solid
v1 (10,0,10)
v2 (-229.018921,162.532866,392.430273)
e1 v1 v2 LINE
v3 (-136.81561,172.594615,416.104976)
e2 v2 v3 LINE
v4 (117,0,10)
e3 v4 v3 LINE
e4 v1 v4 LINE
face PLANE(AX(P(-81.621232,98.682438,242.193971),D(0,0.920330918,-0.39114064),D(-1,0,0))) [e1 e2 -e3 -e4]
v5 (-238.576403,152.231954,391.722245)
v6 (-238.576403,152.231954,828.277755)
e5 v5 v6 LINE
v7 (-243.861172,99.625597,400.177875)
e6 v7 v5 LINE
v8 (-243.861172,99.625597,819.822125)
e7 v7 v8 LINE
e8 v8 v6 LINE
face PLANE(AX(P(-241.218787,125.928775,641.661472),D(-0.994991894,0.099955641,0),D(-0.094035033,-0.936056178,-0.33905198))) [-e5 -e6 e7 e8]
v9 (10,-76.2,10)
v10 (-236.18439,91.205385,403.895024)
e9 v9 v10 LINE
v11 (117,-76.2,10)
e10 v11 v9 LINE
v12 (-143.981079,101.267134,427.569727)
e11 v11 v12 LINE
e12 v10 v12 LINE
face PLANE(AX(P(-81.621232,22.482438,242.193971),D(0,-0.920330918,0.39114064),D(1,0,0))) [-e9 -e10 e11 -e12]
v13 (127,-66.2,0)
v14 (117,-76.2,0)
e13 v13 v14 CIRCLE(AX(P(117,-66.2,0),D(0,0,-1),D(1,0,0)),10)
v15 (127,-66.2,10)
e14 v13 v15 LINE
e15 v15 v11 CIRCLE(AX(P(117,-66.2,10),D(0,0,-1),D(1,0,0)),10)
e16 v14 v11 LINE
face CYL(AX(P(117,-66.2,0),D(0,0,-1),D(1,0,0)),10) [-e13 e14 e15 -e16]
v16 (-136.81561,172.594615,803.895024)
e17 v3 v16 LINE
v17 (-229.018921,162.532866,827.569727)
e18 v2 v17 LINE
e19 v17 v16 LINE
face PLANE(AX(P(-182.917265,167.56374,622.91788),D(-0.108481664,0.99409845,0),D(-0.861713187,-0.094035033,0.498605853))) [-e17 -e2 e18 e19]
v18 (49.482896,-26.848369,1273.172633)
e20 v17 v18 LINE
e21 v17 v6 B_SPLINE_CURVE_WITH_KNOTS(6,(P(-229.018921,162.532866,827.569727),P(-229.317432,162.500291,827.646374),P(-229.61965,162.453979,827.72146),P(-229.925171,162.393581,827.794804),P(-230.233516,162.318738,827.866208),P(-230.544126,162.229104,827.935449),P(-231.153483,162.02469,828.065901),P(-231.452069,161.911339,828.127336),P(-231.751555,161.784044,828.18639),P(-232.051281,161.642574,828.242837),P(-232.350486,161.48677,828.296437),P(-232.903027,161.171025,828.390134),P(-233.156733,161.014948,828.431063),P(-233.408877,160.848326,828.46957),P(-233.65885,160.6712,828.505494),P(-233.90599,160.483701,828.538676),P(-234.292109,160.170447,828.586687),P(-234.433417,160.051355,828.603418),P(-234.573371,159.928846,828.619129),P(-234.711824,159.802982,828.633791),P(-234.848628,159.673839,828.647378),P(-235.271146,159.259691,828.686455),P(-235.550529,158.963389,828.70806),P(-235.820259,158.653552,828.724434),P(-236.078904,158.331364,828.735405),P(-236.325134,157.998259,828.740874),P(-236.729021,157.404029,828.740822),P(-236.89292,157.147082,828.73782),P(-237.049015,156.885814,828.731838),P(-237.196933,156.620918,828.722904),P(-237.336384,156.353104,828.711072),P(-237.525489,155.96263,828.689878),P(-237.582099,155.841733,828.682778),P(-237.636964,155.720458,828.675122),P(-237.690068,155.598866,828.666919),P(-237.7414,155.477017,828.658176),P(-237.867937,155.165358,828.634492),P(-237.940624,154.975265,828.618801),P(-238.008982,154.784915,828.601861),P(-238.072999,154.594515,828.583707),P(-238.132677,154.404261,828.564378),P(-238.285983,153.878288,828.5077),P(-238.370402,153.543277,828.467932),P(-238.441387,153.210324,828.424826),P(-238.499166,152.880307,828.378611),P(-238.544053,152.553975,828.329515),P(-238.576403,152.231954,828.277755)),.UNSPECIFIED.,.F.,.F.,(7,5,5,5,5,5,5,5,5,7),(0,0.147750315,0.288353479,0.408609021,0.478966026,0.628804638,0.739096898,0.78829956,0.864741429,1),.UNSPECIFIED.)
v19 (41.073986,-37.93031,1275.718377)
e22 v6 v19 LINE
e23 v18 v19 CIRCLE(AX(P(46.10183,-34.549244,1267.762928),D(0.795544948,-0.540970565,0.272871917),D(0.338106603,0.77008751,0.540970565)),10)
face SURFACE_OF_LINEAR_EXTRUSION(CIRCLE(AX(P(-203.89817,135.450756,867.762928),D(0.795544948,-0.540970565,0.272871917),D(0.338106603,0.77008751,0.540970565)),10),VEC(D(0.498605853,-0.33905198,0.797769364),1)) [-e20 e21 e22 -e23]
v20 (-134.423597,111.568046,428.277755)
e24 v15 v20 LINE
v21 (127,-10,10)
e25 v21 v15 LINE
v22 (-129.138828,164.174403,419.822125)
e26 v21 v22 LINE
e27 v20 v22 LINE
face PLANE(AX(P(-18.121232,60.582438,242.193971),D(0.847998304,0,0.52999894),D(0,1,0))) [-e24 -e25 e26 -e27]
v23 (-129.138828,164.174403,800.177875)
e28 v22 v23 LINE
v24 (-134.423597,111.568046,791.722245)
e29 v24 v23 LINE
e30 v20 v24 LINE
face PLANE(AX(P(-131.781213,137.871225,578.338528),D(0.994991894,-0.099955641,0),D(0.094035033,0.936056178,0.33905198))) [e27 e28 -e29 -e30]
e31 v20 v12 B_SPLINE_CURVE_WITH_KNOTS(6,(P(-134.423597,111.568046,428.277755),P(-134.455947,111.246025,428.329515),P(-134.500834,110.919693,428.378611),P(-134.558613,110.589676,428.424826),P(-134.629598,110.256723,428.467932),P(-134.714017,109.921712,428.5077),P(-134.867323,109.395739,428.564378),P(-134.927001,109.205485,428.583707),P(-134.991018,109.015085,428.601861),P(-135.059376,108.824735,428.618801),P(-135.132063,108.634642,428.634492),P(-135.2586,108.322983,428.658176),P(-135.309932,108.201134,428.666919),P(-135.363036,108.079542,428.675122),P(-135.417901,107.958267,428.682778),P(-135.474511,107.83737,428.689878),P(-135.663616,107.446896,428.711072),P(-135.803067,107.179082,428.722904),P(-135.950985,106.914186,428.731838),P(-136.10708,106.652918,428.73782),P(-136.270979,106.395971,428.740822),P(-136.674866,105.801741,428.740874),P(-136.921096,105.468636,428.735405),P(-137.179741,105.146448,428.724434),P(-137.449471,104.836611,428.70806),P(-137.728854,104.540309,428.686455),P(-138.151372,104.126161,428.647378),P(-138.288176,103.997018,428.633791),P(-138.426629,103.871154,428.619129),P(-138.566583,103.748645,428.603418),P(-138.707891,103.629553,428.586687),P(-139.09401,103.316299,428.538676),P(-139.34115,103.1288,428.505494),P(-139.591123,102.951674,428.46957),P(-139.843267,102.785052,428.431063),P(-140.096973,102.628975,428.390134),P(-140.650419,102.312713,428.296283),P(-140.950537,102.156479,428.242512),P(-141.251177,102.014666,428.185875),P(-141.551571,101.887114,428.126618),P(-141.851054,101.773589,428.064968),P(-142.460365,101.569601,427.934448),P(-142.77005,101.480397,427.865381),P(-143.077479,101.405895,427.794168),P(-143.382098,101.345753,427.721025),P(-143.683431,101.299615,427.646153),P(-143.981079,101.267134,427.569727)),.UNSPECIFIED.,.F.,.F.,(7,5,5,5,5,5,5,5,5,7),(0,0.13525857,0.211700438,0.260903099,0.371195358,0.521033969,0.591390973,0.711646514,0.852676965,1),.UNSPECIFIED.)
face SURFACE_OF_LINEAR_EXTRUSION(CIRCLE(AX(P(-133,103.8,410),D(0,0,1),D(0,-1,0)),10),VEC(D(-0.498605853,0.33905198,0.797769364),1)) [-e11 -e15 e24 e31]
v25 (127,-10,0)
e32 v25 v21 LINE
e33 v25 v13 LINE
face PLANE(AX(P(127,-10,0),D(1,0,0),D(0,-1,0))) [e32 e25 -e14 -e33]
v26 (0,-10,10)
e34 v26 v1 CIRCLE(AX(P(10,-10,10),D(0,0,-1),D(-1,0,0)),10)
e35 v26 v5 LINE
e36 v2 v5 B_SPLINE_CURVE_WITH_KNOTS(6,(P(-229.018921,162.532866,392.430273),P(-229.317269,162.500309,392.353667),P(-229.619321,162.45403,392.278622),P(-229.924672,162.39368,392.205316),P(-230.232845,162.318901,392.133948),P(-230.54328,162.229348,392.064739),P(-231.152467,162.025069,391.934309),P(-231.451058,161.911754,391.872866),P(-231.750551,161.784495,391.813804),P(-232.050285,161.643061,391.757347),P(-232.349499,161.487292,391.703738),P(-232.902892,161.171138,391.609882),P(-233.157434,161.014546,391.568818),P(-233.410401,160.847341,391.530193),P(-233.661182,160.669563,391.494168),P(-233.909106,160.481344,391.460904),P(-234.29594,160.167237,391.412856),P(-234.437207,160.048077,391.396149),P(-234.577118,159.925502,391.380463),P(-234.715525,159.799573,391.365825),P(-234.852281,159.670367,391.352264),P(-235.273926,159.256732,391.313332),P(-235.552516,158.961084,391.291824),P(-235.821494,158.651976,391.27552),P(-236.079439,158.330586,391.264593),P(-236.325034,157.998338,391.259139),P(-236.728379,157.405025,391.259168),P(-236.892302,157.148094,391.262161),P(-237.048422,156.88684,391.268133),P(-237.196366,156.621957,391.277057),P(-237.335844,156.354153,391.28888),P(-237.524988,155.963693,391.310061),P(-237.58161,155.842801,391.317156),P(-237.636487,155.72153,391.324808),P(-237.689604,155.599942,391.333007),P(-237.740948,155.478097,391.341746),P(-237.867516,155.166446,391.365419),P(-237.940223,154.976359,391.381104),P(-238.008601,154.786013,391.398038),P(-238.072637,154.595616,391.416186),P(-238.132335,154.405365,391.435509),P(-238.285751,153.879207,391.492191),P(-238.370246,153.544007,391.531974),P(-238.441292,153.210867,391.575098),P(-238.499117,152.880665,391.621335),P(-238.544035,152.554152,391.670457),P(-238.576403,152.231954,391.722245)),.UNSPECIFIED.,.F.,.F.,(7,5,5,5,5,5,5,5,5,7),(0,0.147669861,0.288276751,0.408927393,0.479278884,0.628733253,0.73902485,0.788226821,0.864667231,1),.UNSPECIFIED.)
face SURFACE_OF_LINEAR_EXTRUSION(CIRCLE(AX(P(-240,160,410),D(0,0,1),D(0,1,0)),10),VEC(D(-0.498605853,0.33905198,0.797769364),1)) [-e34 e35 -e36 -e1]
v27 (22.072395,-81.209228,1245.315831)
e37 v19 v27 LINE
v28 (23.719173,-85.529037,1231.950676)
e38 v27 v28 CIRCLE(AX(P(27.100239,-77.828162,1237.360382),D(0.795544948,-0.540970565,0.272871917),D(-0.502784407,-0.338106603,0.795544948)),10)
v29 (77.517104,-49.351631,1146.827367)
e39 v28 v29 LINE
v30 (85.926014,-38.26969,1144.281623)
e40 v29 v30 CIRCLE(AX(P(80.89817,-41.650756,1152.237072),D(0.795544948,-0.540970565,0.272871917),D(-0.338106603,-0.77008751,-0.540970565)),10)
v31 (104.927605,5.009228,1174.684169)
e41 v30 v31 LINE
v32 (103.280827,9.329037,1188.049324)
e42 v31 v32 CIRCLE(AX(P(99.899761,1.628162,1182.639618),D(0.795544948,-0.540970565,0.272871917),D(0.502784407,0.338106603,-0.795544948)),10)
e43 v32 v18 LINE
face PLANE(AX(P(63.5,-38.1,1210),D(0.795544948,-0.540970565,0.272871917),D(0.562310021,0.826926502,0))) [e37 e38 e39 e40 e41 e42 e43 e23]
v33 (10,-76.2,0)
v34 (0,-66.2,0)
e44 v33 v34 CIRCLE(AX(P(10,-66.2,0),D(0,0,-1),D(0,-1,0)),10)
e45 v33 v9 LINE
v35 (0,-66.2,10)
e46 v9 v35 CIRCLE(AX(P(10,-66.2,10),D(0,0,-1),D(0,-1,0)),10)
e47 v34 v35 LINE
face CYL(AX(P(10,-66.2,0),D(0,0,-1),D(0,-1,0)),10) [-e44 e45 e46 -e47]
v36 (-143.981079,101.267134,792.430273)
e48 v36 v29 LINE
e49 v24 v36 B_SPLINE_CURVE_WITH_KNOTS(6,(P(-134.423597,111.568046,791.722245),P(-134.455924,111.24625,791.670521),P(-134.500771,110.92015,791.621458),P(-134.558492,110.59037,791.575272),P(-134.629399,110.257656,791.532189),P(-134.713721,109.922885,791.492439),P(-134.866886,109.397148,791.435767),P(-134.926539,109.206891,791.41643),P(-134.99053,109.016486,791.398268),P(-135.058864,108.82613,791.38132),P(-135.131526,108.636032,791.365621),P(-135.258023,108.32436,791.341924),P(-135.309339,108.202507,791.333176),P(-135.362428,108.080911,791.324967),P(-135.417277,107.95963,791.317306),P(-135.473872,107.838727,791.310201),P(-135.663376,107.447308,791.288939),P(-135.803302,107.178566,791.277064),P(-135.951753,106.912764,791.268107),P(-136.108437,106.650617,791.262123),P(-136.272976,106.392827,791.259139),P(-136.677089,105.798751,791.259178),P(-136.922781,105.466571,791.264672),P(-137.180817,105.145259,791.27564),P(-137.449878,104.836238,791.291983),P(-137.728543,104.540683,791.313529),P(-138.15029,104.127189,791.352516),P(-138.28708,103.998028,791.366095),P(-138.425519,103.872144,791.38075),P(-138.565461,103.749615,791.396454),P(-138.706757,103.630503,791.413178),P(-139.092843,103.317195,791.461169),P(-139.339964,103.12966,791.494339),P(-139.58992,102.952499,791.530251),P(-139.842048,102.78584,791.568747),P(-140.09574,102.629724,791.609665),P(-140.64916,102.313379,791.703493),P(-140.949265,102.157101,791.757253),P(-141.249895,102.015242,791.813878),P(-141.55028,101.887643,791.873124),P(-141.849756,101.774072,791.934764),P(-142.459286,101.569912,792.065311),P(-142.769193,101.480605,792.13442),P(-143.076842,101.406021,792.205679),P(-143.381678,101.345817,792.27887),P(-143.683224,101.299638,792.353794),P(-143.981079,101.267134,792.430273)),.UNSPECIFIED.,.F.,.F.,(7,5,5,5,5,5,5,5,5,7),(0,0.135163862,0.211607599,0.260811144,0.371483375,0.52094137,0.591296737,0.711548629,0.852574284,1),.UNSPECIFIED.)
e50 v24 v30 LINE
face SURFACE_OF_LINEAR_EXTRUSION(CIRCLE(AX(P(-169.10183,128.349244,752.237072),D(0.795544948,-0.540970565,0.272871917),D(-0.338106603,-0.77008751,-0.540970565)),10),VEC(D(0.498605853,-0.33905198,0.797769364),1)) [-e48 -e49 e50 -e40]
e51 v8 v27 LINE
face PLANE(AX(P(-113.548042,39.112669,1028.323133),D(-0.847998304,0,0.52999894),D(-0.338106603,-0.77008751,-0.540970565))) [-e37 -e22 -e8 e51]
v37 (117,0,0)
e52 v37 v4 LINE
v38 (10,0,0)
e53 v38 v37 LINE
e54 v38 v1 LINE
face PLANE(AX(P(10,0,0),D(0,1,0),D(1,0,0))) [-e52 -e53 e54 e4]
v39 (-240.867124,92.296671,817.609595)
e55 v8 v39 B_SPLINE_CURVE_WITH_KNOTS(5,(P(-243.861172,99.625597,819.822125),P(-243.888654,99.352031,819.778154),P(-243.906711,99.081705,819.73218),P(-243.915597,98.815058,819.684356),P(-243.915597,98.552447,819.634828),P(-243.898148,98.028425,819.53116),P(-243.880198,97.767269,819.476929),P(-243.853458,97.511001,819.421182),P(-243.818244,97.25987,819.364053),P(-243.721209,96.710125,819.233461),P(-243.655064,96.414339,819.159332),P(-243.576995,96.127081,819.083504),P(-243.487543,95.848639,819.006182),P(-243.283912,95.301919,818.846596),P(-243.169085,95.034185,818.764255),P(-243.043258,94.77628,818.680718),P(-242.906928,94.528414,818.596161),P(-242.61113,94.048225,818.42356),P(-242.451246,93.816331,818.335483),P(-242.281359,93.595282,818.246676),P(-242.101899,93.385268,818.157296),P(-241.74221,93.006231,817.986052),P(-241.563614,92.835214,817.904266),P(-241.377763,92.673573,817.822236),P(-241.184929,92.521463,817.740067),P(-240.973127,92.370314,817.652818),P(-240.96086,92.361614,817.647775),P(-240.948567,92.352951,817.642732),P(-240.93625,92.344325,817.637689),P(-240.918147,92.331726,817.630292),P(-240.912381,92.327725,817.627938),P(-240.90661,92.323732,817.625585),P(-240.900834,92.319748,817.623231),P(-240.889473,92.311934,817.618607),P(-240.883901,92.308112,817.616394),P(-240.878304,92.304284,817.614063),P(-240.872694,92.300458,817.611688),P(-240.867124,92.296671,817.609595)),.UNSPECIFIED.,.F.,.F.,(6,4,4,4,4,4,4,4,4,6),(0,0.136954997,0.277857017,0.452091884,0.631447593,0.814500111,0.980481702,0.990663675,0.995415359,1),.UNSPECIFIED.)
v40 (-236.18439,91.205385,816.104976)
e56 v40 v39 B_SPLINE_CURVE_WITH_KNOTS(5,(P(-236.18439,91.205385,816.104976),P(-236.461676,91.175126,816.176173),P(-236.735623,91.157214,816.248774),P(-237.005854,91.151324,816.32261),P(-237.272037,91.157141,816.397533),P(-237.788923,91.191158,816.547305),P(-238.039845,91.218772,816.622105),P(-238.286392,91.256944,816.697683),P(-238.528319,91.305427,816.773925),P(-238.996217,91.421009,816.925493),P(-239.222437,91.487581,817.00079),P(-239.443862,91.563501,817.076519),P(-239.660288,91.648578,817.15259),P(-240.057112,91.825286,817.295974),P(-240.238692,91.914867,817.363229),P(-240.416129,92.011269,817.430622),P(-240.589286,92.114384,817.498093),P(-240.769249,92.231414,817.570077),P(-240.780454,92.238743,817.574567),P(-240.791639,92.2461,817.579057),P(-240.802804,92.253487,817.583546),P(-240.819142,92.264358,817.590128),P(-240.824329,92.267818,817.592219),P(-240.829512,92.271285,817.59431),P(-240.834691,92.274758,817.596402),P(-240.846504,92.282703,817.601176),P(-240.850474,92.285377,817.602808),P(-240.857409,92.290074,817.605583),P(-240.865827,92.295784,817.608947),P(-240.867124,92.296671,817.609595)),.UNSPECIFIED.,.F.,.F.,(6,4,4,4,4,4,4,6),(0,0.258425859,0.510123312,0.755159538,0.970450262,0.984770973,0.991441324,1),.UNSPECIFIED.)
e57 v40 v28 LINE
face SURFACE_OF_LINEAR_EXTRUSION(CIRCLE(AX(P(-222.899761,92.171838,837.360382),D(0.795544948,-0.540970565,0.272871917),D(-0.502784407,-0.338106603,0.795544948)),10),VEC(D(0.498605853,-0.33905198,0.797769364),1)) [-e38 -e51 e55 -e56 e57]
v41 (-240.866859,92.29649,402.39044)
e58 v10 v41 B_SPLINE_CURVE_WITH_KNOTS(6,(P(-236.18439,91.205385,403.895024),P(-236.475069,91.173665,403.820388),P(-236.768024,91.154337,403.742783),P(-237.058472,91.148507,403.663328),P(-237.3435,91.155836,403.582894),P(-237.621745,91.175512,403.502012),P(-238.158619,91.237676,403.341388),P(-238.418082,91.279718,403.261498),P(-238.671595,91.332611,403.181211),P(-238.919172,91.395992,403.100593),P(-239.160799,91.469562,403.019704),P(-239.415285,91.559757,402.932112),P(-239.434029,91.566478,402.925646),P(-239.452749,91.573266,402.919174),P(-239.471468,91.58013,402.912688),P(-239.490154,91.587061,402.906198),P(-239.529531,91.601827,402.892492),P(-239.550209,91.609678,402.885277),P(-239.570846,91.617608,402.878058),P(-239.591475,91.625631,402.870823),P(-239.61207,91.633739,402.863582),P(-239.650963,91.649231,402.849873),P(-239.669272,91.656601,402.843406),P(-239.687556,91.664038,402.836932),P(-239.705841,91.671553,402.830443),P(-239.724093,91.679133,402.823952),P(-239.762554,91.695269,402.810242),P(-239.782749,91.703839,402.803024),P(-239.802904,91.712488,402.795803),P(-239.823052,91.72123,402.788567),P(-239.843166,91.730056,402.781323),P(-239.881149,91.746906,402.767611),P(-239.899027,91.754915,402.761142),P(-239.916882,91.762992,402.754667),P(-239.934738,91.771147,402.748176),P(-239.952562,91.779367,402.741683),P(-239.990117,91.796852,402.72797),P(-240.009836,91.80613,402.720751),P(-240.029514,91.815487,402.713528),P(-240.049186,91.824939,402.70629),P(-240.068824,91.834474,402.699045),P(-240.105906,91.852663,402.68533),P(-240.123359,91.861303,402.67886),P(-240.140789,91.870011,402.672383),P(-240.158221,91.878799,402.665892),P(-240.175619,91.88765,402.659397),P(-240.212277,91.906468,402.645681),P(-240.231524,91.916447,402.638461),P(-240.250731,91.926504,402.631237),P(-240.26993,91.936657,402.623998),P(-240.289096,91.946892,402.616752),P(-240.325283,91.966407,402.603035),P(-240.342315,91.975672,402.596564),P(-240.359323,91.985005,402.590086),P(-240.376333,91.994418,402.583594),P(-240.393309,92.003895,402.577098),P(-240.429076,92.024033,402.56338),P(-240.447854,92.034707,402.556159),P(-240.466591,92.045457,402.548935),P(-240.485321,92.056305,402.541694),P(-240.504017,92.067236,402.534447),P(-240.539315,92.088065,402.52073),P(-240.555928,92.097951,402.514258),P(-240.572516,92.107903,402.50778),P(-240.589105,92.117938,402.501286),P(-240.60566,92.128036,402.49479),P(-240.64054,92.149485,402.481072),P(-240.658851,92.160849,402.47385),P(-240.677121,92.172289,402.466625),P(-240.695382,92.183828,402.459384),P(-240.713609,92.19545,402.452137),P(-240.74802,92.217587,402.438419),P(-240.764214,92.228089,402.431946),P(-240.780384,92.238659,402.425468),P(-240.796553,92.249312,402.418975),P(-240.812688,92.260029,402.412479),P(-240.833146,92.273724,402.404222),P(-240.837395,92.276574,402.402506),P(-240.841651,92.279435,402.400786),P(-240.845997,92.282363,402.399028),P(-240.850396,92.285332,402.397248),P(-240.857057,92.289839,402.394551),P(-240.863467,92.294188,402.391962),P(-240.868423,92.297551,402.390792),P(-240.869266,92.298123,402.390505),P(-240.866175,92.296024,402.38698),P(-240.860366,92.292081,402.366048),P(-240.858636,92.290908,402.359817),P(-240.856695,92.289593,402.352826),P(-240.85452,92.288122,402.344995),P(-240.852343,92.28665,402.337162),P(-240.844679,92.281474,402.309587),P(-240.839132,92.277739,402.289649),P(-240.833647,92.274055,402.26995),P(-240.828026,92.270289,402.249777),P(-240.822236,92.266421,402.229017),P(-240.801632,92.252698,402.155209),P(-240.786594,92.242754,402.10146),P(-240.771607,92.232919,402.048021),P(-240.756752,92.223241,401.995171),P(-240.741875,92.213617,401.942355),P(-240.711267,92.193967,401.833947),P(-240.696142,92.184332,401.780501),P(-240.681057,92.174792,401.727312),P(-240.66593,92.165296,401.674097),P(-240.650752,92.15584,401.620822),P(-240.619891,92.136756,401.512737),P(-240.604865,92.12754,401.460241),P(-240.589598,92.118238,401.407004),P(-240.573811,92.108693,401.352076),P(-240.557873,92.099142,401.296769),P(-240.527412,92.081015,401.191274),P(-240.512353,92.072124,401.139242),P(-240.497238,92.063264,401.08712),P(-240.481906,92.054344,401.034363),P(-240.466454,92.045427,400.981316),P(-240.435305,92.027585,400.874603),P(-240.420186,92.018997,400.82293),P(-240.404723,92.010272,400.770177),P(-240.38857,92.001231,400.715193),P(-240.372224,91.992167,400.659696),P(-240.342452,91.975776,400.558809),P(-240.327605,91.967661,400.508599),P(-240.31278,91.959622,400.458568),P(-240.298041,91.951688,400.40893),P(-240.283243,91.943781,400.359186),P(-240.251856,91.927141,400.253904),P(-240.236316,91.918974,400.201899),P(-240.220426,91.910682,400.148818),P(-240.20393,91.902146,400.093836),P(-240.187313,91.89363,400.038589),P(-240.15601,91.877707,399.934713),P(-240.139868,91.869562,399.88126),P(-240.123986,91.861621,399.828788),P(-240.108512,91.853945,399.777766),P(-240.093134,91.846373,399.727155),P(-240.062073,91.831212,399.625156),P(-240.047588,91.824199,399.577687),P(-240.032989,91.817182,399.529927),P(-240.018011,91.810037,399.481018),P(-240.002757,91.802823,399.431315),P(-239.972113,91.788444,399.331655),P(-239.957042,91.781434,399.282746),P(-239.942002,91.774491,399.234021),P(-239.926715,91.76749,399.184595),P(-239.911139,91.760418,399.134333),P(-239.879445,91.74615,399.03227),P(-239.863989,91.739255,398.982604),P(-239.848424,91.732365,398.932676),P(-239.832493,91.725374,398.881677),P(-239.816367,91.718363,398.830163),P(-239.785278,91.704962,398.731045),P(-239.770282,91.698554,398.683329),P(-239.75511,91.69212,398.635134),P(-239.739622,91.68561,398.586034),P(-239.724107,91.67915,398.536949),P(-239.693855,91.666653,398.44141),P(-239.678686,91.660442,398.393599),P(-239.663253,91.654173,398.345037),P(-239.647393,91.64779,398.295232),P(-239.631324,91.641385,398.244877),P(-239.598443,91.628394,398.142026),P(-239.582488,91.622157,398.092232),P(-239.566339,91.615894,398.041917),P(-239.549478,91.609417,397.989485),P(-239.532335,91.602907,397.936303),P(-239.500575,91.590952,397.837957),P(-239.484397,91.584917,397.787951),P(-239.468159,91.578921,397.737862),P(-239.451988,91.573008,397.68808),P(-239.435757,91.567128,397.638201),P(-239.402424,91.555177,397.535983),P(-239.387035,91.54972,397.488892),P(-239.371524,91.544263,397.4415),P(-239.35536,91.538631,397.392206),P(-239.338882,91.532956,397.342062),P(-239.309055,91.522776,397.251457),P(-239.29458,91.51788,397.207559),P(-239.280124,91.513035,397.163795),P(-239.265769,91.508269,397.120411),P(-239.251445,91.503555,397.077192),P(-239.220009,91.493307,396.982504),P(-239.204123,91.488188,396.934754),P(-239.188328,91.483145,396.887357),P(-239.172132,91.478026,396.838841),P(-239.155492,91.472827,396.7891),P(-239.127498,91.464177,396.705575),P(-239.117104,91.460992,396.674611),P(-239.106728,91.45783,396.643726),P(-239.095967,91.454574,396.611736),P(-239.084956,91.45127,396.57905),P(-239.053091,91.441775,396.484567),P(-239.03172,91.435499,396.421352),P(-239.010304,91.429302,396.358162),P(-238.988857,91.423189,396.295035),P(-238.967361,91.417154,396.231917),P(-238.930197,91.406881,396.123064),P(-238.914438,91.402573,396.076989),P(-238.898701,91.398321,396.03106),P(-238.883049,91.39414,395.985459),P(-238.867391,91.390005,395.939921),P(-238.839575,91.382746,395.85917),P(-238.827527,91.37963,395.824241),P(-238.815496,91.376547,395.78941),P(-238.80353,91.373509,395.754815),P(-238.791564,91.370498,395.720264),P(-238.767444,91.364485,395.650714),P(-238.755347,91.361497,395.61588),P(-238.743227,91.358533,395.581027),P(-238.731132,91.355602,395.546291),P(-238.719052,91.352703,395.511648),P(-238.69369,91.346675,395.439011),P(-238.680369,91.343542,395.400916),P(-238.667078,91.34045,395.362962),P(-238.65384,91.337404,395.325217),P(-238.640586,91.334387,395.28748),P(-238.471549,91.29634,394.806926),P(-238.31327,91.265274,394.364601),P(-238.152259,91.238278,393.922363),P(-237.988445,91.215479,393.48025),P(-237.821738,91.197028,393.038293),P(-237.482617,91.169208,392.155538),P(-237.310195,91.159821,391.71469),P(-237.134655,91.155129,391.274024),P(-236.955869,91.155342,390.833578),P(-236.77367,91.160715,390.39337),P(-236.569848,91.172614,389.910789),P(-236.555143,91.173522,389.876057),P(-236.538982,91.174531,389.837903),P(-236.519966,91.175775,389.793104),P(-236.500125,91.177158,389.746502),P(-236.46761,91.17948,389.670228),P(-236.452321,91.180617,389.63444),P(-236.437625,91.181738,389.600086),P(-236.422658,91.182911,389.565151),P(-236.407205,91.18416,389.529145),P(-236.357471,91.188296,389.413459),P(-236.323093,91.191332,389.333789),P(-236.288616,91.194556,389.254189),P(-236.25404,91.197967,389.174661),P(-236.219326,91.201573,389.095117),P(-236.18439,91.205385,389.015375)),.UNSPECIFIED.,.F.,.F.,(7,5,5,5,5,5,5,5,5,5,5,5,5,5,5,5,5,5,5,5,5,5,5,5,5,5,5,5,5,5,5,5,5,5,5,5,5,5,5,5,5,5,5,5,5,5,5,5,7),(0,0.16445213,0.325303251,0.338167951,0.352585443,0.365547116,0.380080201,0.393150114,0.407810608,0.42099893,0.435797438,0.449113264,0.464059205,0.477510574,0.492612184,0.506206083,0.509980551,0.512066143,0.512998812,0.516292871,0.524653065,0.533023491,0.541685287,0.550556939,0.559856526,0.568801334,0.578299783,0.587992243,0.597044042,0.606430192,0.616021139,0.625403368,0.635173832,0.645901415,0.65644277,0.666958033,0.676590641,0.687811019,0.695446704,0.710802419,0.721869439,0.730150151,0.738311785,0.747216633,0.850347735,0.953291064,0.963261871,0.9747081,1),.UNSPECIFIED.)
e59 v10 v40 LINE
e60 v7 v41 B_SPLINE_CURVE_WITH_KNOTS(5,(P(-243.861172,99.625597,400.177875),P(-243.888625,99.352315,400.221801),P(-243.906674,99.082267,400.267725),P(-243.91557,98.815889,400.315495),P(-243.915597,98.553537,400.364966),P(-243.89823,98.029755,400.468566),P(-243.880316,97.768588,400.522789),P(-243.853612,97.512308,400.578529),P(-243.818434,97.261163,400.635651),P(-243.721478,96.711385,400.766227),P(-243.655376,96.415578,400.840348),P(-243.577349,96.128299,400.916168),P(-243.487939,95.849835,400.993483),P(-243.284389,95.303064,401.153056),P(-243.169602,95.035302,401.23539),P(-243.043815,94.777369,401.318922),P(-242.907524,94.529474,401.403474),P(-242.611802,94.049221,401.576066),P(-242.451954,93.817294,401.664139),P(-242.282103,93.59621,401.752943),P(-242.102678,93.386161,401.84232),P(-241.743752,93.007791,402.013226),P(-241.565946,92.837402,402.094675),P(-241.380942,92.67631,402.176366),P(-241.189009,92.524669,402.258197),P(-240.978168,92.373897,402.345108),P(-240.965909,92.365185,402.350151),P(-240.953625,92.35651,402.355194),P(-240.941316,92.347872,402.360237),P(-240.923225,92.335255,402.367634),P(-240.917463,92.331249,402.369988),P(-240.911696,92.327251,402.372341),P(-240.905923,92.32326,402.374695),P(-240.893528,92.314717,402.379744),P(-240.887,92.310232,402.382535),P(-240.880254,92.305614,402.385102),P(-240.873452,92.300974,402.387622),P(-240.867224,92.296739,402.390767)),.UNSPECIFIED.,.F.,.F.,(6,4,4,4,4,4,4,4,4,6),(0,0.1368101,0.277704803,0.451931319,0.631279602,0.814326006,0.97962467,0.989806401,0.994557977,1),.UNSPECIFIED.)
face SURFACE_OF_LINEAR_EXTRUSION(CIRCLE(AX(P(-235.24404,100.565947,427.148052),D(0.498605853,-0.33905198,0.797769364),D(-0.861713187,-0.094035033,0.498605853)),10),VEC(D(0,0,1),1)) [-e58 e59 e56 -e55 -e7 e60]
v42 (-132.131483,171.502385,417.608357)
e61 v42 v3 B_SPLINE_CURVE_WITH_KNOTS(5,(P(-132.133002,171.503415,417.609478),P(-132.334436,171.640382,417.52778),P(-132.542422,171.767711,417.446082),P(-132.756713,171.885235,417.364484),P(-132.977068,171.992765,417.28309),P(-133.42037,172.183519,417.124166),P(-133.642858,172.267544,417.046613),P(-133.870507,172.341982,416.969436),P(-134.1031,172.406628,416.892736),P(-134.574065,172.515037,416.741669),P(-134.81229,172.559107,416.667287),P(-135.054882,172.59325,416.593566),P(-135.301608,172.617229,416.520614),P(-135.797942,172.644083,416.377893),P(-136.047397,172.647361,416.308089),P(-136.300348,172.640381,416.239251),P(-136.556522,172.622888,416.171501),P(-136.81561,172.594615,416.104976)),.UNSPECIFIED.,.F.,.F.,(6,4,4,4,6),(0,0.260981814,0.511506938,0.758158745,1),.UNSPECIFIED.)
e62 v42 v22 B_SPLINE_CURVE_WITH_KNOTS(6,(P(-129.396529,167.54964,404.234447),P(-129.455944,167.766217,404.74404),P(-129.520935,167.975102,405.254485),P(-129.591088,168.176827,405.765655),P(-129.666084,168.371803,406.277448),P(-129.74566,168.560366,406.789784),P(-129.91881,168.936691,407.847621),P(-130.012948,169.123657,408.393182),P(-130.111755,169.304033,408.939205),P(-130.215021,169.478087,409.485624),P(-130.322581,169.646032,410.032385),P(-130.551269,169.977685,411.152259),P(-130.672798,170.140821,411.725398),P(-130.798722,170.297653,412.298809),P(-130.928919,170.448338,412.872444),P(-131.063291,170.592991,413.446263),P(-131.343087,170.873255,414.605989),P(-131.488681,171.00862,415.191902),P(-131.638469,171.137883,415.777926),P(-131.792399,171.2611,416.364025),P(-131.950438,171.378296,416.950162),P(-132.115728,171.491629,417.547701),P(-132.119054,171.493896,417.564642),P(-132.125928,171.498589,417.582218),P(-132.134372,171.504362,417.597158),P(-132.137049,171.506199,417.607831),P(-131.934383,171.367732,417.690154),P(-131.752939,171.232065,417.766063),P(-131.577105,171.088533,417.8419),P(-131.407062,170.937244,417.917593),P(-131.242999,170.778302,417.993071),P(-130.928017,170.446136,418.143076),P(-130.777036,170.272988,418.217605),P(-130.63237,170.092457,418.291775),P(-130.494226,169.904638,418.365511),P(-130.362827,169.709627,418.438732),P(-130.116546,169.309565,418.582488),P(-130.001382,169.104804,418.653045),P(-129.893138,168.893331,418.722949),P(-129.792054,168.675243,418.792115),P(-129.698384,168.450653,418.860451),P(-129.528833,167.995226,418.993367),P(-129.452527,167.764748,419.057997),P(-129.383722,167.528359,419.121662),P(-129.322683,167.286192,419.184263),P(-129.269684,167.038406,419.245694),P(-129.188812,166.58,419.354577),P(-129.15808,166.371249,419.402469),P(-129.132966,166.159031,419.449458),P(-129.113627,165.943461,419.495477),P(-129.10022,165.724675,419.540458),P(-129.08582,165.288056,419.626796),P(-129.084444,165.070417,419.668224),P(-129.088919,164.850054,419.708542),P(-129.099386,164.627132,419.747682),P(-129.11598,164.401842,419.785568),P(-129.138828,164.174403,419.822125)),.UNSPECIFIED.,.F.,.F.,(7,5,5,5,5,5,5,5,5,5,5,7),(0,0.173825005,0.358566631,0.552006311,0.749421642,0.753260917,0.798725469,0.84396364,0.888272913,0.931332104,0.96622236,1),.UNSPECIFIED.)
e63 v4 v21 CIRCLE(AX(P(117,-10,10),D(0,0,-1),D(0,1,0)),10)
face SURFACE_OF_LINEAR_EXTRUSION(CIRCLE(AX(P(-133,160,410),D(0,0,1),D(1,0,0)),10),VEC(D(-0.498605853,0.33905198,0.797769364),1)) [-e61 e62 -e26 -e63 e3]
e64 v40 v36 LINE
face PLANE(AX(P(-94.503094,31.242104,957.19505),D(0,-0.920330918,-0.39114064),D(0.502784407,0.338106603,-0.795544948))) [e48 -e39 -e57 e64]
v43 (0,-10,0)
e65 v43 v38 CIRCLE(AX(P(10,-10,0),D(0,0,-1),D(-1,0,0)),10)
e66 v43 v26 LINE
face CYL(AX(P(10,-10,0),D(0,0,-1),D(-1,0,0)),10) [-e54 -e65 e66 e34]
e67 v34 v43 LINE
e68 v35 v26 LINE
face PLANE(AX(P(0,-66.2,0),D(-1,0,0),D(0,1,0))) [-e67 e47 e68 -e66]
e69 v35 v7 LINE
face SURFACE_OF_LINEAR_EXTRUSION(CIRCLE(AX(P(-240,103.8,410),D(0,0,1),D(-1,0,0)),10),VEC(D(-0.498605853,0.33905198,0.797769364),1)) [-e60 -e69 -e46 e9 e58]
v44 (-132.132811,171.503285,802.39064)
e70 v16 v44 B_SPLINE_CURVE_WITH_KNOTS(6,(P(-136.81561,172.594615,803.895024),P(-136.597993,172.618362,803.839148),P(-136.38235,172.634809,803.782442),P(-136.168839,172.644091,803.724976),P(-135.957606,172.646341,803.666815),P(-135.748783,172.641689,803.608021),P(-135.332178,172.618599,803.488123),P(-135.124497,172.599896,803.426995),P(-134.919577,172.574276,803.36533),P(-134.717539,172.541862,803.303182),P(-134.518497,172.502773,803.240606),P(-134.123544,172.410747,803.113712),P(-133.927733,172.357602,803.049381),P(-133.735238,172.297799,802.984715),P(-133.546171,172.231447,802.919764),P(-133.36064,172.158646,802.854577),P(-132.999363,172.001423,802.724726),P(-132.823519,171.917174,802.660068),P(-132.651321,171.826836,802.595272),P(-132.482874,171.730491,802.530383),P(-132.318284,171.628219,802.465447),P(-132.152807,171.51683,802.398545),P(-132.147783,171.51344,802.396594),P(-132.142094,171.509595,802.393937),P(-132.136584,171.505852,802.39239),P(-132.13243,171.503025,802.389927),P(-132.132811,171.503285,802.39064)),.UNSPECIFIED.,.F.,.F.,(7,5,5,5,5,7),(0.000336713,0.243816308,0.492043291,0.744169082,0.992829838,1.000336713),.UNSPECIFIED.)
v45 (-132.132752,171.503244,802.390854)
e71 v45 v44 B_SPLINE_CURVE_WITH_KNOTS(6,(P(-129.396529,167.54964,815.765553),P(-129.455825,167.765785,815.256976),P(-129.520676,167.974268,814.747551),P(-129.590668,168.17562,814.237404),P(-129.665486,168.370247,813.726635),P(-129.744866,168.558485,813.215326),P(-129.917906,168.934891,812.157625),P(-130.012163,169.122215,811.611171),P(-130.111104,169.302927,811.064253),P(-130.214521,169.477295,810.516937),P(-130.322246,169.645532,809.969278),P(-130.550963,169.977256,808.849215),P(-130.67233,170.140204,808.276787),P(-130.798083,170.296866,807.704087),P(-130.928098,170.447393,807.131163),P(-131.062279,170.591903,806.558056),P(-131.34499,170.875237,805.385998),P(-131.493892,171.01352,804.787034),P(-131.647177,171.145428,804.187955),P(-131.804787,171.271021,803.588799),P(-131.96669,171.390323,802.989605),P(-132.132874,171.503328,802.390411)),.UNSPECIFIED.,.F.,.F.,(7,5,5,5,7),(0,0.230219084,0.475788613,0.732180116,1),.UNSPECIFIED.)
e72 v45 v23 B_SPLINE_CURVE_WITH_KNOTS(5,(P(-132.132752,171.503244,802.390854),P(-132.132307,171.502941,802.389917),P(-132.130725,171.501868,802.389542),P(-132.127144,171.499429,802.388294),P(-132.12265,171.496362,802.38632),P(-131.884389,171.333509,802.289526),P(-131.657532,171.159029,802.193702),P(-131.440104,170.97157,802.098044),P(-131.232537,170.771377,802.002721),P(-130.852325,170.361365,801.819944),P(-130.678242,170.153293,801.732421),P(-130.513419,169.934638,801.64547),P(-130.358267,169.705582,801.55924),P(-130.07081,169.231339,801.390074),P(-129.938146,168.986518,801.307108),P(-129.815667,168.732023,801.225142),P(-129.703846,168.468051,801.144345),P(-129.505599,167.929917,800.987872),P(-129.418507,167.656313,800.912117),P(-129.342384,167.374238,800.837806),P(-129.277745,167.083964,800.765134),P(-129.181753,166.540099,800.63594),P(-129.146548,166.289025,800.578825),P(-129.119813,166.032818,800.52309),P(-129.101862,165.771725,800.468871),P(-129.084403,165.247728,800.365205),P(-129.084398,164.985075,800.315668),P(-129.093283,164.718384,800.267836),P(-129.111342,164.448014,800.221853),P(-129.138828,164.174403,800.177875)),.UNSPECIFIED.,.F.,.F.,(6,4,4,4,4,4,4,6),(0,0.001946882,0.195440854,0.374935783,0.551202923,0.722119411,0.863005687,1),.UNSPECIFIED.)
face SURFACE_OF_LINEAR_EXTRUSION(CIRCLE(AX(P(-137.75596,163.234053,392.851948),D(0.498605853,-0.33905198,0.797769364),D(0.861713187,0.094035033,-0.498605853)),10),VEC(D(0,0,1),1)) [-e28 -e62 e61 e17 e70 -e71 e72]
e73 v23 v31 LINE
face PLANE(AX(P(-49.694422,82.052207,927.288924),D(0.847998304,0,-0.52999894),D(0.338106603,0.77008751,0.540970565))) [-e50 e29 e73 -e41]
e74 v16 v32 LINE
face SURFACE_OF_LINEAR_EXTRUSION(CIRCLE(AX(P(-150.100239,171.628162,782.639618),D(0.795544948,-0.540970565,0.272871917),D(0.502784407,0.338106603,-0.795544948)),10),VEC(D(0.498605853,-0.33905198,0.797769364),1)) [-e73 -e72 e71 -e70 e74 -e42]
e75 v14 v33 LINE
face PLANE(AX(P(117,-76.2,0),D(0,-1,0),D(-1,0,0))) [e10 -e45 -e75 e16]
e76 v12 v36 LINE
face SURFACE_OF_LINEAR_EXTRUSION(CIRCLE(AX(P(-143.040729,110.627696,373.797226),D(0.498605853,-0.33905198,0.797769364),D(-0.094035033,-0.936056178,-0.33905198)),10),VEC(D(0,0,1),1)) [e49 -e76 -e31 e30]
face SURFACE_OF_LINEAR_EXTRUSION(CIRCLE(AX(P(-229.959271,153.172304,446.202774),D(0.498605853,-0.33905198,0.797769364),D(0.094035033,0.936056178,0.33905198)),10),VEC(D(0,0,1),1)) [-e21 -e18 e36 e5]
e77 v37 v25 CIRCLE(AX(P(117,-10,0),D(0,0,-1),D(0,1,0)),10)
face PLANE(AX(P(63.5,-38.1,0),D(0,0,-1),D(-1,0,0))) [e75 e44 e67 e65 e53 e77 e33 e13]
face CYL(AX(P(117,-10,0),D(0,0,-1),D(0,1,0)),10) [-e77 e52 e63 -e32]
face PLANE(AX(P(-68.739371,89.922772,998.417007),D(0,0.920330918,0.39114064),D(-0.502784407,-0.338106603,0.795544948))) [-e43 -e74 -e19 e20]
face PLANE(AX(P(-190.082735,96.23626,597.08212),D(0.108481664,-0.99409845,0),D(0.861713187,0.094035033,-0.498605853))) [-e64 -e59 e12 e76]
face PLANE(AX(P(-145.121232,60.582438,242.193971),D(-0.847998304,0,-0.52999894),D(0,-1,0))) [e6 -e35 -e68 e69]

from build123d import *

# Parameters (mm, degrees)
SALIENTE_EXTRUIR1_DEPTH = 10


with BuildPart() as part:
    # Croquis1 → Saliente-Extruir1 (new body)
    with BuildSketch(Plane.XY):
        with BuildLine():
            Line((10, 0), (117, 0))
            ThreePointArc((117, 0), (124.071067812, -2.928932188), (127, -10))
            Line((127, -10), (127, -66.2))
            ThreePointArc((127, -66.2), (124.071067812, -73.271067812), (117, -76.2))
            Line((117, -76.2), (10, -76.2))
            ThreePointArc((10, -76.2), (2.928932188, -73.271067812), (0, -66.2))
            Line((0, -66.2), (0, -10))
            ThreePointArc((0, -10), (2.928932188, -2.928932188), (10, 0))
        make_face()
    extrude(amount=SALIENTE_EXTRUIR1_DEPTH)

    # Barrer1: sweep along a curve in space
    with BuildLine() as barrer1_path:
        Line((-186.5, 131.9, 810), (63.5, -38.1, 1210))
        Line((-186.5, 131.9, 410), (-186.5, 131.9, 810))
        Line((-186.5, 131.9, 410), (63.5, -38.1, 10))
    # Croquis2 → Barrer1 (sweep)
    with BuildSketch(Plane.XY.offset(10)):
        with BuildLine():
            Line((10, -76.2), (117, -76.2))
            ThreePointArc((117, -76.2), (124.071067812, -73.271067812), (127, -66.2))
            Line((127, -66.2), (127, -10))
            ThreePointArc((127, -10), (124.071067812, -2.928932188), (117, 0))
            Line((117, 0), (10, 0))
            ThreePointArc((10, 0), (2.928932188, -2.928932188), (0, -10))
            Line((0, -10), (0, -66.2))
            ThreePointArc((0, -66.2), (2.928932188, -73.271067812), (10, -76.2))
        make_face()
    sweep(path=barrer1_path.line, transition=Transition.RIGHT)


solid = part.part
